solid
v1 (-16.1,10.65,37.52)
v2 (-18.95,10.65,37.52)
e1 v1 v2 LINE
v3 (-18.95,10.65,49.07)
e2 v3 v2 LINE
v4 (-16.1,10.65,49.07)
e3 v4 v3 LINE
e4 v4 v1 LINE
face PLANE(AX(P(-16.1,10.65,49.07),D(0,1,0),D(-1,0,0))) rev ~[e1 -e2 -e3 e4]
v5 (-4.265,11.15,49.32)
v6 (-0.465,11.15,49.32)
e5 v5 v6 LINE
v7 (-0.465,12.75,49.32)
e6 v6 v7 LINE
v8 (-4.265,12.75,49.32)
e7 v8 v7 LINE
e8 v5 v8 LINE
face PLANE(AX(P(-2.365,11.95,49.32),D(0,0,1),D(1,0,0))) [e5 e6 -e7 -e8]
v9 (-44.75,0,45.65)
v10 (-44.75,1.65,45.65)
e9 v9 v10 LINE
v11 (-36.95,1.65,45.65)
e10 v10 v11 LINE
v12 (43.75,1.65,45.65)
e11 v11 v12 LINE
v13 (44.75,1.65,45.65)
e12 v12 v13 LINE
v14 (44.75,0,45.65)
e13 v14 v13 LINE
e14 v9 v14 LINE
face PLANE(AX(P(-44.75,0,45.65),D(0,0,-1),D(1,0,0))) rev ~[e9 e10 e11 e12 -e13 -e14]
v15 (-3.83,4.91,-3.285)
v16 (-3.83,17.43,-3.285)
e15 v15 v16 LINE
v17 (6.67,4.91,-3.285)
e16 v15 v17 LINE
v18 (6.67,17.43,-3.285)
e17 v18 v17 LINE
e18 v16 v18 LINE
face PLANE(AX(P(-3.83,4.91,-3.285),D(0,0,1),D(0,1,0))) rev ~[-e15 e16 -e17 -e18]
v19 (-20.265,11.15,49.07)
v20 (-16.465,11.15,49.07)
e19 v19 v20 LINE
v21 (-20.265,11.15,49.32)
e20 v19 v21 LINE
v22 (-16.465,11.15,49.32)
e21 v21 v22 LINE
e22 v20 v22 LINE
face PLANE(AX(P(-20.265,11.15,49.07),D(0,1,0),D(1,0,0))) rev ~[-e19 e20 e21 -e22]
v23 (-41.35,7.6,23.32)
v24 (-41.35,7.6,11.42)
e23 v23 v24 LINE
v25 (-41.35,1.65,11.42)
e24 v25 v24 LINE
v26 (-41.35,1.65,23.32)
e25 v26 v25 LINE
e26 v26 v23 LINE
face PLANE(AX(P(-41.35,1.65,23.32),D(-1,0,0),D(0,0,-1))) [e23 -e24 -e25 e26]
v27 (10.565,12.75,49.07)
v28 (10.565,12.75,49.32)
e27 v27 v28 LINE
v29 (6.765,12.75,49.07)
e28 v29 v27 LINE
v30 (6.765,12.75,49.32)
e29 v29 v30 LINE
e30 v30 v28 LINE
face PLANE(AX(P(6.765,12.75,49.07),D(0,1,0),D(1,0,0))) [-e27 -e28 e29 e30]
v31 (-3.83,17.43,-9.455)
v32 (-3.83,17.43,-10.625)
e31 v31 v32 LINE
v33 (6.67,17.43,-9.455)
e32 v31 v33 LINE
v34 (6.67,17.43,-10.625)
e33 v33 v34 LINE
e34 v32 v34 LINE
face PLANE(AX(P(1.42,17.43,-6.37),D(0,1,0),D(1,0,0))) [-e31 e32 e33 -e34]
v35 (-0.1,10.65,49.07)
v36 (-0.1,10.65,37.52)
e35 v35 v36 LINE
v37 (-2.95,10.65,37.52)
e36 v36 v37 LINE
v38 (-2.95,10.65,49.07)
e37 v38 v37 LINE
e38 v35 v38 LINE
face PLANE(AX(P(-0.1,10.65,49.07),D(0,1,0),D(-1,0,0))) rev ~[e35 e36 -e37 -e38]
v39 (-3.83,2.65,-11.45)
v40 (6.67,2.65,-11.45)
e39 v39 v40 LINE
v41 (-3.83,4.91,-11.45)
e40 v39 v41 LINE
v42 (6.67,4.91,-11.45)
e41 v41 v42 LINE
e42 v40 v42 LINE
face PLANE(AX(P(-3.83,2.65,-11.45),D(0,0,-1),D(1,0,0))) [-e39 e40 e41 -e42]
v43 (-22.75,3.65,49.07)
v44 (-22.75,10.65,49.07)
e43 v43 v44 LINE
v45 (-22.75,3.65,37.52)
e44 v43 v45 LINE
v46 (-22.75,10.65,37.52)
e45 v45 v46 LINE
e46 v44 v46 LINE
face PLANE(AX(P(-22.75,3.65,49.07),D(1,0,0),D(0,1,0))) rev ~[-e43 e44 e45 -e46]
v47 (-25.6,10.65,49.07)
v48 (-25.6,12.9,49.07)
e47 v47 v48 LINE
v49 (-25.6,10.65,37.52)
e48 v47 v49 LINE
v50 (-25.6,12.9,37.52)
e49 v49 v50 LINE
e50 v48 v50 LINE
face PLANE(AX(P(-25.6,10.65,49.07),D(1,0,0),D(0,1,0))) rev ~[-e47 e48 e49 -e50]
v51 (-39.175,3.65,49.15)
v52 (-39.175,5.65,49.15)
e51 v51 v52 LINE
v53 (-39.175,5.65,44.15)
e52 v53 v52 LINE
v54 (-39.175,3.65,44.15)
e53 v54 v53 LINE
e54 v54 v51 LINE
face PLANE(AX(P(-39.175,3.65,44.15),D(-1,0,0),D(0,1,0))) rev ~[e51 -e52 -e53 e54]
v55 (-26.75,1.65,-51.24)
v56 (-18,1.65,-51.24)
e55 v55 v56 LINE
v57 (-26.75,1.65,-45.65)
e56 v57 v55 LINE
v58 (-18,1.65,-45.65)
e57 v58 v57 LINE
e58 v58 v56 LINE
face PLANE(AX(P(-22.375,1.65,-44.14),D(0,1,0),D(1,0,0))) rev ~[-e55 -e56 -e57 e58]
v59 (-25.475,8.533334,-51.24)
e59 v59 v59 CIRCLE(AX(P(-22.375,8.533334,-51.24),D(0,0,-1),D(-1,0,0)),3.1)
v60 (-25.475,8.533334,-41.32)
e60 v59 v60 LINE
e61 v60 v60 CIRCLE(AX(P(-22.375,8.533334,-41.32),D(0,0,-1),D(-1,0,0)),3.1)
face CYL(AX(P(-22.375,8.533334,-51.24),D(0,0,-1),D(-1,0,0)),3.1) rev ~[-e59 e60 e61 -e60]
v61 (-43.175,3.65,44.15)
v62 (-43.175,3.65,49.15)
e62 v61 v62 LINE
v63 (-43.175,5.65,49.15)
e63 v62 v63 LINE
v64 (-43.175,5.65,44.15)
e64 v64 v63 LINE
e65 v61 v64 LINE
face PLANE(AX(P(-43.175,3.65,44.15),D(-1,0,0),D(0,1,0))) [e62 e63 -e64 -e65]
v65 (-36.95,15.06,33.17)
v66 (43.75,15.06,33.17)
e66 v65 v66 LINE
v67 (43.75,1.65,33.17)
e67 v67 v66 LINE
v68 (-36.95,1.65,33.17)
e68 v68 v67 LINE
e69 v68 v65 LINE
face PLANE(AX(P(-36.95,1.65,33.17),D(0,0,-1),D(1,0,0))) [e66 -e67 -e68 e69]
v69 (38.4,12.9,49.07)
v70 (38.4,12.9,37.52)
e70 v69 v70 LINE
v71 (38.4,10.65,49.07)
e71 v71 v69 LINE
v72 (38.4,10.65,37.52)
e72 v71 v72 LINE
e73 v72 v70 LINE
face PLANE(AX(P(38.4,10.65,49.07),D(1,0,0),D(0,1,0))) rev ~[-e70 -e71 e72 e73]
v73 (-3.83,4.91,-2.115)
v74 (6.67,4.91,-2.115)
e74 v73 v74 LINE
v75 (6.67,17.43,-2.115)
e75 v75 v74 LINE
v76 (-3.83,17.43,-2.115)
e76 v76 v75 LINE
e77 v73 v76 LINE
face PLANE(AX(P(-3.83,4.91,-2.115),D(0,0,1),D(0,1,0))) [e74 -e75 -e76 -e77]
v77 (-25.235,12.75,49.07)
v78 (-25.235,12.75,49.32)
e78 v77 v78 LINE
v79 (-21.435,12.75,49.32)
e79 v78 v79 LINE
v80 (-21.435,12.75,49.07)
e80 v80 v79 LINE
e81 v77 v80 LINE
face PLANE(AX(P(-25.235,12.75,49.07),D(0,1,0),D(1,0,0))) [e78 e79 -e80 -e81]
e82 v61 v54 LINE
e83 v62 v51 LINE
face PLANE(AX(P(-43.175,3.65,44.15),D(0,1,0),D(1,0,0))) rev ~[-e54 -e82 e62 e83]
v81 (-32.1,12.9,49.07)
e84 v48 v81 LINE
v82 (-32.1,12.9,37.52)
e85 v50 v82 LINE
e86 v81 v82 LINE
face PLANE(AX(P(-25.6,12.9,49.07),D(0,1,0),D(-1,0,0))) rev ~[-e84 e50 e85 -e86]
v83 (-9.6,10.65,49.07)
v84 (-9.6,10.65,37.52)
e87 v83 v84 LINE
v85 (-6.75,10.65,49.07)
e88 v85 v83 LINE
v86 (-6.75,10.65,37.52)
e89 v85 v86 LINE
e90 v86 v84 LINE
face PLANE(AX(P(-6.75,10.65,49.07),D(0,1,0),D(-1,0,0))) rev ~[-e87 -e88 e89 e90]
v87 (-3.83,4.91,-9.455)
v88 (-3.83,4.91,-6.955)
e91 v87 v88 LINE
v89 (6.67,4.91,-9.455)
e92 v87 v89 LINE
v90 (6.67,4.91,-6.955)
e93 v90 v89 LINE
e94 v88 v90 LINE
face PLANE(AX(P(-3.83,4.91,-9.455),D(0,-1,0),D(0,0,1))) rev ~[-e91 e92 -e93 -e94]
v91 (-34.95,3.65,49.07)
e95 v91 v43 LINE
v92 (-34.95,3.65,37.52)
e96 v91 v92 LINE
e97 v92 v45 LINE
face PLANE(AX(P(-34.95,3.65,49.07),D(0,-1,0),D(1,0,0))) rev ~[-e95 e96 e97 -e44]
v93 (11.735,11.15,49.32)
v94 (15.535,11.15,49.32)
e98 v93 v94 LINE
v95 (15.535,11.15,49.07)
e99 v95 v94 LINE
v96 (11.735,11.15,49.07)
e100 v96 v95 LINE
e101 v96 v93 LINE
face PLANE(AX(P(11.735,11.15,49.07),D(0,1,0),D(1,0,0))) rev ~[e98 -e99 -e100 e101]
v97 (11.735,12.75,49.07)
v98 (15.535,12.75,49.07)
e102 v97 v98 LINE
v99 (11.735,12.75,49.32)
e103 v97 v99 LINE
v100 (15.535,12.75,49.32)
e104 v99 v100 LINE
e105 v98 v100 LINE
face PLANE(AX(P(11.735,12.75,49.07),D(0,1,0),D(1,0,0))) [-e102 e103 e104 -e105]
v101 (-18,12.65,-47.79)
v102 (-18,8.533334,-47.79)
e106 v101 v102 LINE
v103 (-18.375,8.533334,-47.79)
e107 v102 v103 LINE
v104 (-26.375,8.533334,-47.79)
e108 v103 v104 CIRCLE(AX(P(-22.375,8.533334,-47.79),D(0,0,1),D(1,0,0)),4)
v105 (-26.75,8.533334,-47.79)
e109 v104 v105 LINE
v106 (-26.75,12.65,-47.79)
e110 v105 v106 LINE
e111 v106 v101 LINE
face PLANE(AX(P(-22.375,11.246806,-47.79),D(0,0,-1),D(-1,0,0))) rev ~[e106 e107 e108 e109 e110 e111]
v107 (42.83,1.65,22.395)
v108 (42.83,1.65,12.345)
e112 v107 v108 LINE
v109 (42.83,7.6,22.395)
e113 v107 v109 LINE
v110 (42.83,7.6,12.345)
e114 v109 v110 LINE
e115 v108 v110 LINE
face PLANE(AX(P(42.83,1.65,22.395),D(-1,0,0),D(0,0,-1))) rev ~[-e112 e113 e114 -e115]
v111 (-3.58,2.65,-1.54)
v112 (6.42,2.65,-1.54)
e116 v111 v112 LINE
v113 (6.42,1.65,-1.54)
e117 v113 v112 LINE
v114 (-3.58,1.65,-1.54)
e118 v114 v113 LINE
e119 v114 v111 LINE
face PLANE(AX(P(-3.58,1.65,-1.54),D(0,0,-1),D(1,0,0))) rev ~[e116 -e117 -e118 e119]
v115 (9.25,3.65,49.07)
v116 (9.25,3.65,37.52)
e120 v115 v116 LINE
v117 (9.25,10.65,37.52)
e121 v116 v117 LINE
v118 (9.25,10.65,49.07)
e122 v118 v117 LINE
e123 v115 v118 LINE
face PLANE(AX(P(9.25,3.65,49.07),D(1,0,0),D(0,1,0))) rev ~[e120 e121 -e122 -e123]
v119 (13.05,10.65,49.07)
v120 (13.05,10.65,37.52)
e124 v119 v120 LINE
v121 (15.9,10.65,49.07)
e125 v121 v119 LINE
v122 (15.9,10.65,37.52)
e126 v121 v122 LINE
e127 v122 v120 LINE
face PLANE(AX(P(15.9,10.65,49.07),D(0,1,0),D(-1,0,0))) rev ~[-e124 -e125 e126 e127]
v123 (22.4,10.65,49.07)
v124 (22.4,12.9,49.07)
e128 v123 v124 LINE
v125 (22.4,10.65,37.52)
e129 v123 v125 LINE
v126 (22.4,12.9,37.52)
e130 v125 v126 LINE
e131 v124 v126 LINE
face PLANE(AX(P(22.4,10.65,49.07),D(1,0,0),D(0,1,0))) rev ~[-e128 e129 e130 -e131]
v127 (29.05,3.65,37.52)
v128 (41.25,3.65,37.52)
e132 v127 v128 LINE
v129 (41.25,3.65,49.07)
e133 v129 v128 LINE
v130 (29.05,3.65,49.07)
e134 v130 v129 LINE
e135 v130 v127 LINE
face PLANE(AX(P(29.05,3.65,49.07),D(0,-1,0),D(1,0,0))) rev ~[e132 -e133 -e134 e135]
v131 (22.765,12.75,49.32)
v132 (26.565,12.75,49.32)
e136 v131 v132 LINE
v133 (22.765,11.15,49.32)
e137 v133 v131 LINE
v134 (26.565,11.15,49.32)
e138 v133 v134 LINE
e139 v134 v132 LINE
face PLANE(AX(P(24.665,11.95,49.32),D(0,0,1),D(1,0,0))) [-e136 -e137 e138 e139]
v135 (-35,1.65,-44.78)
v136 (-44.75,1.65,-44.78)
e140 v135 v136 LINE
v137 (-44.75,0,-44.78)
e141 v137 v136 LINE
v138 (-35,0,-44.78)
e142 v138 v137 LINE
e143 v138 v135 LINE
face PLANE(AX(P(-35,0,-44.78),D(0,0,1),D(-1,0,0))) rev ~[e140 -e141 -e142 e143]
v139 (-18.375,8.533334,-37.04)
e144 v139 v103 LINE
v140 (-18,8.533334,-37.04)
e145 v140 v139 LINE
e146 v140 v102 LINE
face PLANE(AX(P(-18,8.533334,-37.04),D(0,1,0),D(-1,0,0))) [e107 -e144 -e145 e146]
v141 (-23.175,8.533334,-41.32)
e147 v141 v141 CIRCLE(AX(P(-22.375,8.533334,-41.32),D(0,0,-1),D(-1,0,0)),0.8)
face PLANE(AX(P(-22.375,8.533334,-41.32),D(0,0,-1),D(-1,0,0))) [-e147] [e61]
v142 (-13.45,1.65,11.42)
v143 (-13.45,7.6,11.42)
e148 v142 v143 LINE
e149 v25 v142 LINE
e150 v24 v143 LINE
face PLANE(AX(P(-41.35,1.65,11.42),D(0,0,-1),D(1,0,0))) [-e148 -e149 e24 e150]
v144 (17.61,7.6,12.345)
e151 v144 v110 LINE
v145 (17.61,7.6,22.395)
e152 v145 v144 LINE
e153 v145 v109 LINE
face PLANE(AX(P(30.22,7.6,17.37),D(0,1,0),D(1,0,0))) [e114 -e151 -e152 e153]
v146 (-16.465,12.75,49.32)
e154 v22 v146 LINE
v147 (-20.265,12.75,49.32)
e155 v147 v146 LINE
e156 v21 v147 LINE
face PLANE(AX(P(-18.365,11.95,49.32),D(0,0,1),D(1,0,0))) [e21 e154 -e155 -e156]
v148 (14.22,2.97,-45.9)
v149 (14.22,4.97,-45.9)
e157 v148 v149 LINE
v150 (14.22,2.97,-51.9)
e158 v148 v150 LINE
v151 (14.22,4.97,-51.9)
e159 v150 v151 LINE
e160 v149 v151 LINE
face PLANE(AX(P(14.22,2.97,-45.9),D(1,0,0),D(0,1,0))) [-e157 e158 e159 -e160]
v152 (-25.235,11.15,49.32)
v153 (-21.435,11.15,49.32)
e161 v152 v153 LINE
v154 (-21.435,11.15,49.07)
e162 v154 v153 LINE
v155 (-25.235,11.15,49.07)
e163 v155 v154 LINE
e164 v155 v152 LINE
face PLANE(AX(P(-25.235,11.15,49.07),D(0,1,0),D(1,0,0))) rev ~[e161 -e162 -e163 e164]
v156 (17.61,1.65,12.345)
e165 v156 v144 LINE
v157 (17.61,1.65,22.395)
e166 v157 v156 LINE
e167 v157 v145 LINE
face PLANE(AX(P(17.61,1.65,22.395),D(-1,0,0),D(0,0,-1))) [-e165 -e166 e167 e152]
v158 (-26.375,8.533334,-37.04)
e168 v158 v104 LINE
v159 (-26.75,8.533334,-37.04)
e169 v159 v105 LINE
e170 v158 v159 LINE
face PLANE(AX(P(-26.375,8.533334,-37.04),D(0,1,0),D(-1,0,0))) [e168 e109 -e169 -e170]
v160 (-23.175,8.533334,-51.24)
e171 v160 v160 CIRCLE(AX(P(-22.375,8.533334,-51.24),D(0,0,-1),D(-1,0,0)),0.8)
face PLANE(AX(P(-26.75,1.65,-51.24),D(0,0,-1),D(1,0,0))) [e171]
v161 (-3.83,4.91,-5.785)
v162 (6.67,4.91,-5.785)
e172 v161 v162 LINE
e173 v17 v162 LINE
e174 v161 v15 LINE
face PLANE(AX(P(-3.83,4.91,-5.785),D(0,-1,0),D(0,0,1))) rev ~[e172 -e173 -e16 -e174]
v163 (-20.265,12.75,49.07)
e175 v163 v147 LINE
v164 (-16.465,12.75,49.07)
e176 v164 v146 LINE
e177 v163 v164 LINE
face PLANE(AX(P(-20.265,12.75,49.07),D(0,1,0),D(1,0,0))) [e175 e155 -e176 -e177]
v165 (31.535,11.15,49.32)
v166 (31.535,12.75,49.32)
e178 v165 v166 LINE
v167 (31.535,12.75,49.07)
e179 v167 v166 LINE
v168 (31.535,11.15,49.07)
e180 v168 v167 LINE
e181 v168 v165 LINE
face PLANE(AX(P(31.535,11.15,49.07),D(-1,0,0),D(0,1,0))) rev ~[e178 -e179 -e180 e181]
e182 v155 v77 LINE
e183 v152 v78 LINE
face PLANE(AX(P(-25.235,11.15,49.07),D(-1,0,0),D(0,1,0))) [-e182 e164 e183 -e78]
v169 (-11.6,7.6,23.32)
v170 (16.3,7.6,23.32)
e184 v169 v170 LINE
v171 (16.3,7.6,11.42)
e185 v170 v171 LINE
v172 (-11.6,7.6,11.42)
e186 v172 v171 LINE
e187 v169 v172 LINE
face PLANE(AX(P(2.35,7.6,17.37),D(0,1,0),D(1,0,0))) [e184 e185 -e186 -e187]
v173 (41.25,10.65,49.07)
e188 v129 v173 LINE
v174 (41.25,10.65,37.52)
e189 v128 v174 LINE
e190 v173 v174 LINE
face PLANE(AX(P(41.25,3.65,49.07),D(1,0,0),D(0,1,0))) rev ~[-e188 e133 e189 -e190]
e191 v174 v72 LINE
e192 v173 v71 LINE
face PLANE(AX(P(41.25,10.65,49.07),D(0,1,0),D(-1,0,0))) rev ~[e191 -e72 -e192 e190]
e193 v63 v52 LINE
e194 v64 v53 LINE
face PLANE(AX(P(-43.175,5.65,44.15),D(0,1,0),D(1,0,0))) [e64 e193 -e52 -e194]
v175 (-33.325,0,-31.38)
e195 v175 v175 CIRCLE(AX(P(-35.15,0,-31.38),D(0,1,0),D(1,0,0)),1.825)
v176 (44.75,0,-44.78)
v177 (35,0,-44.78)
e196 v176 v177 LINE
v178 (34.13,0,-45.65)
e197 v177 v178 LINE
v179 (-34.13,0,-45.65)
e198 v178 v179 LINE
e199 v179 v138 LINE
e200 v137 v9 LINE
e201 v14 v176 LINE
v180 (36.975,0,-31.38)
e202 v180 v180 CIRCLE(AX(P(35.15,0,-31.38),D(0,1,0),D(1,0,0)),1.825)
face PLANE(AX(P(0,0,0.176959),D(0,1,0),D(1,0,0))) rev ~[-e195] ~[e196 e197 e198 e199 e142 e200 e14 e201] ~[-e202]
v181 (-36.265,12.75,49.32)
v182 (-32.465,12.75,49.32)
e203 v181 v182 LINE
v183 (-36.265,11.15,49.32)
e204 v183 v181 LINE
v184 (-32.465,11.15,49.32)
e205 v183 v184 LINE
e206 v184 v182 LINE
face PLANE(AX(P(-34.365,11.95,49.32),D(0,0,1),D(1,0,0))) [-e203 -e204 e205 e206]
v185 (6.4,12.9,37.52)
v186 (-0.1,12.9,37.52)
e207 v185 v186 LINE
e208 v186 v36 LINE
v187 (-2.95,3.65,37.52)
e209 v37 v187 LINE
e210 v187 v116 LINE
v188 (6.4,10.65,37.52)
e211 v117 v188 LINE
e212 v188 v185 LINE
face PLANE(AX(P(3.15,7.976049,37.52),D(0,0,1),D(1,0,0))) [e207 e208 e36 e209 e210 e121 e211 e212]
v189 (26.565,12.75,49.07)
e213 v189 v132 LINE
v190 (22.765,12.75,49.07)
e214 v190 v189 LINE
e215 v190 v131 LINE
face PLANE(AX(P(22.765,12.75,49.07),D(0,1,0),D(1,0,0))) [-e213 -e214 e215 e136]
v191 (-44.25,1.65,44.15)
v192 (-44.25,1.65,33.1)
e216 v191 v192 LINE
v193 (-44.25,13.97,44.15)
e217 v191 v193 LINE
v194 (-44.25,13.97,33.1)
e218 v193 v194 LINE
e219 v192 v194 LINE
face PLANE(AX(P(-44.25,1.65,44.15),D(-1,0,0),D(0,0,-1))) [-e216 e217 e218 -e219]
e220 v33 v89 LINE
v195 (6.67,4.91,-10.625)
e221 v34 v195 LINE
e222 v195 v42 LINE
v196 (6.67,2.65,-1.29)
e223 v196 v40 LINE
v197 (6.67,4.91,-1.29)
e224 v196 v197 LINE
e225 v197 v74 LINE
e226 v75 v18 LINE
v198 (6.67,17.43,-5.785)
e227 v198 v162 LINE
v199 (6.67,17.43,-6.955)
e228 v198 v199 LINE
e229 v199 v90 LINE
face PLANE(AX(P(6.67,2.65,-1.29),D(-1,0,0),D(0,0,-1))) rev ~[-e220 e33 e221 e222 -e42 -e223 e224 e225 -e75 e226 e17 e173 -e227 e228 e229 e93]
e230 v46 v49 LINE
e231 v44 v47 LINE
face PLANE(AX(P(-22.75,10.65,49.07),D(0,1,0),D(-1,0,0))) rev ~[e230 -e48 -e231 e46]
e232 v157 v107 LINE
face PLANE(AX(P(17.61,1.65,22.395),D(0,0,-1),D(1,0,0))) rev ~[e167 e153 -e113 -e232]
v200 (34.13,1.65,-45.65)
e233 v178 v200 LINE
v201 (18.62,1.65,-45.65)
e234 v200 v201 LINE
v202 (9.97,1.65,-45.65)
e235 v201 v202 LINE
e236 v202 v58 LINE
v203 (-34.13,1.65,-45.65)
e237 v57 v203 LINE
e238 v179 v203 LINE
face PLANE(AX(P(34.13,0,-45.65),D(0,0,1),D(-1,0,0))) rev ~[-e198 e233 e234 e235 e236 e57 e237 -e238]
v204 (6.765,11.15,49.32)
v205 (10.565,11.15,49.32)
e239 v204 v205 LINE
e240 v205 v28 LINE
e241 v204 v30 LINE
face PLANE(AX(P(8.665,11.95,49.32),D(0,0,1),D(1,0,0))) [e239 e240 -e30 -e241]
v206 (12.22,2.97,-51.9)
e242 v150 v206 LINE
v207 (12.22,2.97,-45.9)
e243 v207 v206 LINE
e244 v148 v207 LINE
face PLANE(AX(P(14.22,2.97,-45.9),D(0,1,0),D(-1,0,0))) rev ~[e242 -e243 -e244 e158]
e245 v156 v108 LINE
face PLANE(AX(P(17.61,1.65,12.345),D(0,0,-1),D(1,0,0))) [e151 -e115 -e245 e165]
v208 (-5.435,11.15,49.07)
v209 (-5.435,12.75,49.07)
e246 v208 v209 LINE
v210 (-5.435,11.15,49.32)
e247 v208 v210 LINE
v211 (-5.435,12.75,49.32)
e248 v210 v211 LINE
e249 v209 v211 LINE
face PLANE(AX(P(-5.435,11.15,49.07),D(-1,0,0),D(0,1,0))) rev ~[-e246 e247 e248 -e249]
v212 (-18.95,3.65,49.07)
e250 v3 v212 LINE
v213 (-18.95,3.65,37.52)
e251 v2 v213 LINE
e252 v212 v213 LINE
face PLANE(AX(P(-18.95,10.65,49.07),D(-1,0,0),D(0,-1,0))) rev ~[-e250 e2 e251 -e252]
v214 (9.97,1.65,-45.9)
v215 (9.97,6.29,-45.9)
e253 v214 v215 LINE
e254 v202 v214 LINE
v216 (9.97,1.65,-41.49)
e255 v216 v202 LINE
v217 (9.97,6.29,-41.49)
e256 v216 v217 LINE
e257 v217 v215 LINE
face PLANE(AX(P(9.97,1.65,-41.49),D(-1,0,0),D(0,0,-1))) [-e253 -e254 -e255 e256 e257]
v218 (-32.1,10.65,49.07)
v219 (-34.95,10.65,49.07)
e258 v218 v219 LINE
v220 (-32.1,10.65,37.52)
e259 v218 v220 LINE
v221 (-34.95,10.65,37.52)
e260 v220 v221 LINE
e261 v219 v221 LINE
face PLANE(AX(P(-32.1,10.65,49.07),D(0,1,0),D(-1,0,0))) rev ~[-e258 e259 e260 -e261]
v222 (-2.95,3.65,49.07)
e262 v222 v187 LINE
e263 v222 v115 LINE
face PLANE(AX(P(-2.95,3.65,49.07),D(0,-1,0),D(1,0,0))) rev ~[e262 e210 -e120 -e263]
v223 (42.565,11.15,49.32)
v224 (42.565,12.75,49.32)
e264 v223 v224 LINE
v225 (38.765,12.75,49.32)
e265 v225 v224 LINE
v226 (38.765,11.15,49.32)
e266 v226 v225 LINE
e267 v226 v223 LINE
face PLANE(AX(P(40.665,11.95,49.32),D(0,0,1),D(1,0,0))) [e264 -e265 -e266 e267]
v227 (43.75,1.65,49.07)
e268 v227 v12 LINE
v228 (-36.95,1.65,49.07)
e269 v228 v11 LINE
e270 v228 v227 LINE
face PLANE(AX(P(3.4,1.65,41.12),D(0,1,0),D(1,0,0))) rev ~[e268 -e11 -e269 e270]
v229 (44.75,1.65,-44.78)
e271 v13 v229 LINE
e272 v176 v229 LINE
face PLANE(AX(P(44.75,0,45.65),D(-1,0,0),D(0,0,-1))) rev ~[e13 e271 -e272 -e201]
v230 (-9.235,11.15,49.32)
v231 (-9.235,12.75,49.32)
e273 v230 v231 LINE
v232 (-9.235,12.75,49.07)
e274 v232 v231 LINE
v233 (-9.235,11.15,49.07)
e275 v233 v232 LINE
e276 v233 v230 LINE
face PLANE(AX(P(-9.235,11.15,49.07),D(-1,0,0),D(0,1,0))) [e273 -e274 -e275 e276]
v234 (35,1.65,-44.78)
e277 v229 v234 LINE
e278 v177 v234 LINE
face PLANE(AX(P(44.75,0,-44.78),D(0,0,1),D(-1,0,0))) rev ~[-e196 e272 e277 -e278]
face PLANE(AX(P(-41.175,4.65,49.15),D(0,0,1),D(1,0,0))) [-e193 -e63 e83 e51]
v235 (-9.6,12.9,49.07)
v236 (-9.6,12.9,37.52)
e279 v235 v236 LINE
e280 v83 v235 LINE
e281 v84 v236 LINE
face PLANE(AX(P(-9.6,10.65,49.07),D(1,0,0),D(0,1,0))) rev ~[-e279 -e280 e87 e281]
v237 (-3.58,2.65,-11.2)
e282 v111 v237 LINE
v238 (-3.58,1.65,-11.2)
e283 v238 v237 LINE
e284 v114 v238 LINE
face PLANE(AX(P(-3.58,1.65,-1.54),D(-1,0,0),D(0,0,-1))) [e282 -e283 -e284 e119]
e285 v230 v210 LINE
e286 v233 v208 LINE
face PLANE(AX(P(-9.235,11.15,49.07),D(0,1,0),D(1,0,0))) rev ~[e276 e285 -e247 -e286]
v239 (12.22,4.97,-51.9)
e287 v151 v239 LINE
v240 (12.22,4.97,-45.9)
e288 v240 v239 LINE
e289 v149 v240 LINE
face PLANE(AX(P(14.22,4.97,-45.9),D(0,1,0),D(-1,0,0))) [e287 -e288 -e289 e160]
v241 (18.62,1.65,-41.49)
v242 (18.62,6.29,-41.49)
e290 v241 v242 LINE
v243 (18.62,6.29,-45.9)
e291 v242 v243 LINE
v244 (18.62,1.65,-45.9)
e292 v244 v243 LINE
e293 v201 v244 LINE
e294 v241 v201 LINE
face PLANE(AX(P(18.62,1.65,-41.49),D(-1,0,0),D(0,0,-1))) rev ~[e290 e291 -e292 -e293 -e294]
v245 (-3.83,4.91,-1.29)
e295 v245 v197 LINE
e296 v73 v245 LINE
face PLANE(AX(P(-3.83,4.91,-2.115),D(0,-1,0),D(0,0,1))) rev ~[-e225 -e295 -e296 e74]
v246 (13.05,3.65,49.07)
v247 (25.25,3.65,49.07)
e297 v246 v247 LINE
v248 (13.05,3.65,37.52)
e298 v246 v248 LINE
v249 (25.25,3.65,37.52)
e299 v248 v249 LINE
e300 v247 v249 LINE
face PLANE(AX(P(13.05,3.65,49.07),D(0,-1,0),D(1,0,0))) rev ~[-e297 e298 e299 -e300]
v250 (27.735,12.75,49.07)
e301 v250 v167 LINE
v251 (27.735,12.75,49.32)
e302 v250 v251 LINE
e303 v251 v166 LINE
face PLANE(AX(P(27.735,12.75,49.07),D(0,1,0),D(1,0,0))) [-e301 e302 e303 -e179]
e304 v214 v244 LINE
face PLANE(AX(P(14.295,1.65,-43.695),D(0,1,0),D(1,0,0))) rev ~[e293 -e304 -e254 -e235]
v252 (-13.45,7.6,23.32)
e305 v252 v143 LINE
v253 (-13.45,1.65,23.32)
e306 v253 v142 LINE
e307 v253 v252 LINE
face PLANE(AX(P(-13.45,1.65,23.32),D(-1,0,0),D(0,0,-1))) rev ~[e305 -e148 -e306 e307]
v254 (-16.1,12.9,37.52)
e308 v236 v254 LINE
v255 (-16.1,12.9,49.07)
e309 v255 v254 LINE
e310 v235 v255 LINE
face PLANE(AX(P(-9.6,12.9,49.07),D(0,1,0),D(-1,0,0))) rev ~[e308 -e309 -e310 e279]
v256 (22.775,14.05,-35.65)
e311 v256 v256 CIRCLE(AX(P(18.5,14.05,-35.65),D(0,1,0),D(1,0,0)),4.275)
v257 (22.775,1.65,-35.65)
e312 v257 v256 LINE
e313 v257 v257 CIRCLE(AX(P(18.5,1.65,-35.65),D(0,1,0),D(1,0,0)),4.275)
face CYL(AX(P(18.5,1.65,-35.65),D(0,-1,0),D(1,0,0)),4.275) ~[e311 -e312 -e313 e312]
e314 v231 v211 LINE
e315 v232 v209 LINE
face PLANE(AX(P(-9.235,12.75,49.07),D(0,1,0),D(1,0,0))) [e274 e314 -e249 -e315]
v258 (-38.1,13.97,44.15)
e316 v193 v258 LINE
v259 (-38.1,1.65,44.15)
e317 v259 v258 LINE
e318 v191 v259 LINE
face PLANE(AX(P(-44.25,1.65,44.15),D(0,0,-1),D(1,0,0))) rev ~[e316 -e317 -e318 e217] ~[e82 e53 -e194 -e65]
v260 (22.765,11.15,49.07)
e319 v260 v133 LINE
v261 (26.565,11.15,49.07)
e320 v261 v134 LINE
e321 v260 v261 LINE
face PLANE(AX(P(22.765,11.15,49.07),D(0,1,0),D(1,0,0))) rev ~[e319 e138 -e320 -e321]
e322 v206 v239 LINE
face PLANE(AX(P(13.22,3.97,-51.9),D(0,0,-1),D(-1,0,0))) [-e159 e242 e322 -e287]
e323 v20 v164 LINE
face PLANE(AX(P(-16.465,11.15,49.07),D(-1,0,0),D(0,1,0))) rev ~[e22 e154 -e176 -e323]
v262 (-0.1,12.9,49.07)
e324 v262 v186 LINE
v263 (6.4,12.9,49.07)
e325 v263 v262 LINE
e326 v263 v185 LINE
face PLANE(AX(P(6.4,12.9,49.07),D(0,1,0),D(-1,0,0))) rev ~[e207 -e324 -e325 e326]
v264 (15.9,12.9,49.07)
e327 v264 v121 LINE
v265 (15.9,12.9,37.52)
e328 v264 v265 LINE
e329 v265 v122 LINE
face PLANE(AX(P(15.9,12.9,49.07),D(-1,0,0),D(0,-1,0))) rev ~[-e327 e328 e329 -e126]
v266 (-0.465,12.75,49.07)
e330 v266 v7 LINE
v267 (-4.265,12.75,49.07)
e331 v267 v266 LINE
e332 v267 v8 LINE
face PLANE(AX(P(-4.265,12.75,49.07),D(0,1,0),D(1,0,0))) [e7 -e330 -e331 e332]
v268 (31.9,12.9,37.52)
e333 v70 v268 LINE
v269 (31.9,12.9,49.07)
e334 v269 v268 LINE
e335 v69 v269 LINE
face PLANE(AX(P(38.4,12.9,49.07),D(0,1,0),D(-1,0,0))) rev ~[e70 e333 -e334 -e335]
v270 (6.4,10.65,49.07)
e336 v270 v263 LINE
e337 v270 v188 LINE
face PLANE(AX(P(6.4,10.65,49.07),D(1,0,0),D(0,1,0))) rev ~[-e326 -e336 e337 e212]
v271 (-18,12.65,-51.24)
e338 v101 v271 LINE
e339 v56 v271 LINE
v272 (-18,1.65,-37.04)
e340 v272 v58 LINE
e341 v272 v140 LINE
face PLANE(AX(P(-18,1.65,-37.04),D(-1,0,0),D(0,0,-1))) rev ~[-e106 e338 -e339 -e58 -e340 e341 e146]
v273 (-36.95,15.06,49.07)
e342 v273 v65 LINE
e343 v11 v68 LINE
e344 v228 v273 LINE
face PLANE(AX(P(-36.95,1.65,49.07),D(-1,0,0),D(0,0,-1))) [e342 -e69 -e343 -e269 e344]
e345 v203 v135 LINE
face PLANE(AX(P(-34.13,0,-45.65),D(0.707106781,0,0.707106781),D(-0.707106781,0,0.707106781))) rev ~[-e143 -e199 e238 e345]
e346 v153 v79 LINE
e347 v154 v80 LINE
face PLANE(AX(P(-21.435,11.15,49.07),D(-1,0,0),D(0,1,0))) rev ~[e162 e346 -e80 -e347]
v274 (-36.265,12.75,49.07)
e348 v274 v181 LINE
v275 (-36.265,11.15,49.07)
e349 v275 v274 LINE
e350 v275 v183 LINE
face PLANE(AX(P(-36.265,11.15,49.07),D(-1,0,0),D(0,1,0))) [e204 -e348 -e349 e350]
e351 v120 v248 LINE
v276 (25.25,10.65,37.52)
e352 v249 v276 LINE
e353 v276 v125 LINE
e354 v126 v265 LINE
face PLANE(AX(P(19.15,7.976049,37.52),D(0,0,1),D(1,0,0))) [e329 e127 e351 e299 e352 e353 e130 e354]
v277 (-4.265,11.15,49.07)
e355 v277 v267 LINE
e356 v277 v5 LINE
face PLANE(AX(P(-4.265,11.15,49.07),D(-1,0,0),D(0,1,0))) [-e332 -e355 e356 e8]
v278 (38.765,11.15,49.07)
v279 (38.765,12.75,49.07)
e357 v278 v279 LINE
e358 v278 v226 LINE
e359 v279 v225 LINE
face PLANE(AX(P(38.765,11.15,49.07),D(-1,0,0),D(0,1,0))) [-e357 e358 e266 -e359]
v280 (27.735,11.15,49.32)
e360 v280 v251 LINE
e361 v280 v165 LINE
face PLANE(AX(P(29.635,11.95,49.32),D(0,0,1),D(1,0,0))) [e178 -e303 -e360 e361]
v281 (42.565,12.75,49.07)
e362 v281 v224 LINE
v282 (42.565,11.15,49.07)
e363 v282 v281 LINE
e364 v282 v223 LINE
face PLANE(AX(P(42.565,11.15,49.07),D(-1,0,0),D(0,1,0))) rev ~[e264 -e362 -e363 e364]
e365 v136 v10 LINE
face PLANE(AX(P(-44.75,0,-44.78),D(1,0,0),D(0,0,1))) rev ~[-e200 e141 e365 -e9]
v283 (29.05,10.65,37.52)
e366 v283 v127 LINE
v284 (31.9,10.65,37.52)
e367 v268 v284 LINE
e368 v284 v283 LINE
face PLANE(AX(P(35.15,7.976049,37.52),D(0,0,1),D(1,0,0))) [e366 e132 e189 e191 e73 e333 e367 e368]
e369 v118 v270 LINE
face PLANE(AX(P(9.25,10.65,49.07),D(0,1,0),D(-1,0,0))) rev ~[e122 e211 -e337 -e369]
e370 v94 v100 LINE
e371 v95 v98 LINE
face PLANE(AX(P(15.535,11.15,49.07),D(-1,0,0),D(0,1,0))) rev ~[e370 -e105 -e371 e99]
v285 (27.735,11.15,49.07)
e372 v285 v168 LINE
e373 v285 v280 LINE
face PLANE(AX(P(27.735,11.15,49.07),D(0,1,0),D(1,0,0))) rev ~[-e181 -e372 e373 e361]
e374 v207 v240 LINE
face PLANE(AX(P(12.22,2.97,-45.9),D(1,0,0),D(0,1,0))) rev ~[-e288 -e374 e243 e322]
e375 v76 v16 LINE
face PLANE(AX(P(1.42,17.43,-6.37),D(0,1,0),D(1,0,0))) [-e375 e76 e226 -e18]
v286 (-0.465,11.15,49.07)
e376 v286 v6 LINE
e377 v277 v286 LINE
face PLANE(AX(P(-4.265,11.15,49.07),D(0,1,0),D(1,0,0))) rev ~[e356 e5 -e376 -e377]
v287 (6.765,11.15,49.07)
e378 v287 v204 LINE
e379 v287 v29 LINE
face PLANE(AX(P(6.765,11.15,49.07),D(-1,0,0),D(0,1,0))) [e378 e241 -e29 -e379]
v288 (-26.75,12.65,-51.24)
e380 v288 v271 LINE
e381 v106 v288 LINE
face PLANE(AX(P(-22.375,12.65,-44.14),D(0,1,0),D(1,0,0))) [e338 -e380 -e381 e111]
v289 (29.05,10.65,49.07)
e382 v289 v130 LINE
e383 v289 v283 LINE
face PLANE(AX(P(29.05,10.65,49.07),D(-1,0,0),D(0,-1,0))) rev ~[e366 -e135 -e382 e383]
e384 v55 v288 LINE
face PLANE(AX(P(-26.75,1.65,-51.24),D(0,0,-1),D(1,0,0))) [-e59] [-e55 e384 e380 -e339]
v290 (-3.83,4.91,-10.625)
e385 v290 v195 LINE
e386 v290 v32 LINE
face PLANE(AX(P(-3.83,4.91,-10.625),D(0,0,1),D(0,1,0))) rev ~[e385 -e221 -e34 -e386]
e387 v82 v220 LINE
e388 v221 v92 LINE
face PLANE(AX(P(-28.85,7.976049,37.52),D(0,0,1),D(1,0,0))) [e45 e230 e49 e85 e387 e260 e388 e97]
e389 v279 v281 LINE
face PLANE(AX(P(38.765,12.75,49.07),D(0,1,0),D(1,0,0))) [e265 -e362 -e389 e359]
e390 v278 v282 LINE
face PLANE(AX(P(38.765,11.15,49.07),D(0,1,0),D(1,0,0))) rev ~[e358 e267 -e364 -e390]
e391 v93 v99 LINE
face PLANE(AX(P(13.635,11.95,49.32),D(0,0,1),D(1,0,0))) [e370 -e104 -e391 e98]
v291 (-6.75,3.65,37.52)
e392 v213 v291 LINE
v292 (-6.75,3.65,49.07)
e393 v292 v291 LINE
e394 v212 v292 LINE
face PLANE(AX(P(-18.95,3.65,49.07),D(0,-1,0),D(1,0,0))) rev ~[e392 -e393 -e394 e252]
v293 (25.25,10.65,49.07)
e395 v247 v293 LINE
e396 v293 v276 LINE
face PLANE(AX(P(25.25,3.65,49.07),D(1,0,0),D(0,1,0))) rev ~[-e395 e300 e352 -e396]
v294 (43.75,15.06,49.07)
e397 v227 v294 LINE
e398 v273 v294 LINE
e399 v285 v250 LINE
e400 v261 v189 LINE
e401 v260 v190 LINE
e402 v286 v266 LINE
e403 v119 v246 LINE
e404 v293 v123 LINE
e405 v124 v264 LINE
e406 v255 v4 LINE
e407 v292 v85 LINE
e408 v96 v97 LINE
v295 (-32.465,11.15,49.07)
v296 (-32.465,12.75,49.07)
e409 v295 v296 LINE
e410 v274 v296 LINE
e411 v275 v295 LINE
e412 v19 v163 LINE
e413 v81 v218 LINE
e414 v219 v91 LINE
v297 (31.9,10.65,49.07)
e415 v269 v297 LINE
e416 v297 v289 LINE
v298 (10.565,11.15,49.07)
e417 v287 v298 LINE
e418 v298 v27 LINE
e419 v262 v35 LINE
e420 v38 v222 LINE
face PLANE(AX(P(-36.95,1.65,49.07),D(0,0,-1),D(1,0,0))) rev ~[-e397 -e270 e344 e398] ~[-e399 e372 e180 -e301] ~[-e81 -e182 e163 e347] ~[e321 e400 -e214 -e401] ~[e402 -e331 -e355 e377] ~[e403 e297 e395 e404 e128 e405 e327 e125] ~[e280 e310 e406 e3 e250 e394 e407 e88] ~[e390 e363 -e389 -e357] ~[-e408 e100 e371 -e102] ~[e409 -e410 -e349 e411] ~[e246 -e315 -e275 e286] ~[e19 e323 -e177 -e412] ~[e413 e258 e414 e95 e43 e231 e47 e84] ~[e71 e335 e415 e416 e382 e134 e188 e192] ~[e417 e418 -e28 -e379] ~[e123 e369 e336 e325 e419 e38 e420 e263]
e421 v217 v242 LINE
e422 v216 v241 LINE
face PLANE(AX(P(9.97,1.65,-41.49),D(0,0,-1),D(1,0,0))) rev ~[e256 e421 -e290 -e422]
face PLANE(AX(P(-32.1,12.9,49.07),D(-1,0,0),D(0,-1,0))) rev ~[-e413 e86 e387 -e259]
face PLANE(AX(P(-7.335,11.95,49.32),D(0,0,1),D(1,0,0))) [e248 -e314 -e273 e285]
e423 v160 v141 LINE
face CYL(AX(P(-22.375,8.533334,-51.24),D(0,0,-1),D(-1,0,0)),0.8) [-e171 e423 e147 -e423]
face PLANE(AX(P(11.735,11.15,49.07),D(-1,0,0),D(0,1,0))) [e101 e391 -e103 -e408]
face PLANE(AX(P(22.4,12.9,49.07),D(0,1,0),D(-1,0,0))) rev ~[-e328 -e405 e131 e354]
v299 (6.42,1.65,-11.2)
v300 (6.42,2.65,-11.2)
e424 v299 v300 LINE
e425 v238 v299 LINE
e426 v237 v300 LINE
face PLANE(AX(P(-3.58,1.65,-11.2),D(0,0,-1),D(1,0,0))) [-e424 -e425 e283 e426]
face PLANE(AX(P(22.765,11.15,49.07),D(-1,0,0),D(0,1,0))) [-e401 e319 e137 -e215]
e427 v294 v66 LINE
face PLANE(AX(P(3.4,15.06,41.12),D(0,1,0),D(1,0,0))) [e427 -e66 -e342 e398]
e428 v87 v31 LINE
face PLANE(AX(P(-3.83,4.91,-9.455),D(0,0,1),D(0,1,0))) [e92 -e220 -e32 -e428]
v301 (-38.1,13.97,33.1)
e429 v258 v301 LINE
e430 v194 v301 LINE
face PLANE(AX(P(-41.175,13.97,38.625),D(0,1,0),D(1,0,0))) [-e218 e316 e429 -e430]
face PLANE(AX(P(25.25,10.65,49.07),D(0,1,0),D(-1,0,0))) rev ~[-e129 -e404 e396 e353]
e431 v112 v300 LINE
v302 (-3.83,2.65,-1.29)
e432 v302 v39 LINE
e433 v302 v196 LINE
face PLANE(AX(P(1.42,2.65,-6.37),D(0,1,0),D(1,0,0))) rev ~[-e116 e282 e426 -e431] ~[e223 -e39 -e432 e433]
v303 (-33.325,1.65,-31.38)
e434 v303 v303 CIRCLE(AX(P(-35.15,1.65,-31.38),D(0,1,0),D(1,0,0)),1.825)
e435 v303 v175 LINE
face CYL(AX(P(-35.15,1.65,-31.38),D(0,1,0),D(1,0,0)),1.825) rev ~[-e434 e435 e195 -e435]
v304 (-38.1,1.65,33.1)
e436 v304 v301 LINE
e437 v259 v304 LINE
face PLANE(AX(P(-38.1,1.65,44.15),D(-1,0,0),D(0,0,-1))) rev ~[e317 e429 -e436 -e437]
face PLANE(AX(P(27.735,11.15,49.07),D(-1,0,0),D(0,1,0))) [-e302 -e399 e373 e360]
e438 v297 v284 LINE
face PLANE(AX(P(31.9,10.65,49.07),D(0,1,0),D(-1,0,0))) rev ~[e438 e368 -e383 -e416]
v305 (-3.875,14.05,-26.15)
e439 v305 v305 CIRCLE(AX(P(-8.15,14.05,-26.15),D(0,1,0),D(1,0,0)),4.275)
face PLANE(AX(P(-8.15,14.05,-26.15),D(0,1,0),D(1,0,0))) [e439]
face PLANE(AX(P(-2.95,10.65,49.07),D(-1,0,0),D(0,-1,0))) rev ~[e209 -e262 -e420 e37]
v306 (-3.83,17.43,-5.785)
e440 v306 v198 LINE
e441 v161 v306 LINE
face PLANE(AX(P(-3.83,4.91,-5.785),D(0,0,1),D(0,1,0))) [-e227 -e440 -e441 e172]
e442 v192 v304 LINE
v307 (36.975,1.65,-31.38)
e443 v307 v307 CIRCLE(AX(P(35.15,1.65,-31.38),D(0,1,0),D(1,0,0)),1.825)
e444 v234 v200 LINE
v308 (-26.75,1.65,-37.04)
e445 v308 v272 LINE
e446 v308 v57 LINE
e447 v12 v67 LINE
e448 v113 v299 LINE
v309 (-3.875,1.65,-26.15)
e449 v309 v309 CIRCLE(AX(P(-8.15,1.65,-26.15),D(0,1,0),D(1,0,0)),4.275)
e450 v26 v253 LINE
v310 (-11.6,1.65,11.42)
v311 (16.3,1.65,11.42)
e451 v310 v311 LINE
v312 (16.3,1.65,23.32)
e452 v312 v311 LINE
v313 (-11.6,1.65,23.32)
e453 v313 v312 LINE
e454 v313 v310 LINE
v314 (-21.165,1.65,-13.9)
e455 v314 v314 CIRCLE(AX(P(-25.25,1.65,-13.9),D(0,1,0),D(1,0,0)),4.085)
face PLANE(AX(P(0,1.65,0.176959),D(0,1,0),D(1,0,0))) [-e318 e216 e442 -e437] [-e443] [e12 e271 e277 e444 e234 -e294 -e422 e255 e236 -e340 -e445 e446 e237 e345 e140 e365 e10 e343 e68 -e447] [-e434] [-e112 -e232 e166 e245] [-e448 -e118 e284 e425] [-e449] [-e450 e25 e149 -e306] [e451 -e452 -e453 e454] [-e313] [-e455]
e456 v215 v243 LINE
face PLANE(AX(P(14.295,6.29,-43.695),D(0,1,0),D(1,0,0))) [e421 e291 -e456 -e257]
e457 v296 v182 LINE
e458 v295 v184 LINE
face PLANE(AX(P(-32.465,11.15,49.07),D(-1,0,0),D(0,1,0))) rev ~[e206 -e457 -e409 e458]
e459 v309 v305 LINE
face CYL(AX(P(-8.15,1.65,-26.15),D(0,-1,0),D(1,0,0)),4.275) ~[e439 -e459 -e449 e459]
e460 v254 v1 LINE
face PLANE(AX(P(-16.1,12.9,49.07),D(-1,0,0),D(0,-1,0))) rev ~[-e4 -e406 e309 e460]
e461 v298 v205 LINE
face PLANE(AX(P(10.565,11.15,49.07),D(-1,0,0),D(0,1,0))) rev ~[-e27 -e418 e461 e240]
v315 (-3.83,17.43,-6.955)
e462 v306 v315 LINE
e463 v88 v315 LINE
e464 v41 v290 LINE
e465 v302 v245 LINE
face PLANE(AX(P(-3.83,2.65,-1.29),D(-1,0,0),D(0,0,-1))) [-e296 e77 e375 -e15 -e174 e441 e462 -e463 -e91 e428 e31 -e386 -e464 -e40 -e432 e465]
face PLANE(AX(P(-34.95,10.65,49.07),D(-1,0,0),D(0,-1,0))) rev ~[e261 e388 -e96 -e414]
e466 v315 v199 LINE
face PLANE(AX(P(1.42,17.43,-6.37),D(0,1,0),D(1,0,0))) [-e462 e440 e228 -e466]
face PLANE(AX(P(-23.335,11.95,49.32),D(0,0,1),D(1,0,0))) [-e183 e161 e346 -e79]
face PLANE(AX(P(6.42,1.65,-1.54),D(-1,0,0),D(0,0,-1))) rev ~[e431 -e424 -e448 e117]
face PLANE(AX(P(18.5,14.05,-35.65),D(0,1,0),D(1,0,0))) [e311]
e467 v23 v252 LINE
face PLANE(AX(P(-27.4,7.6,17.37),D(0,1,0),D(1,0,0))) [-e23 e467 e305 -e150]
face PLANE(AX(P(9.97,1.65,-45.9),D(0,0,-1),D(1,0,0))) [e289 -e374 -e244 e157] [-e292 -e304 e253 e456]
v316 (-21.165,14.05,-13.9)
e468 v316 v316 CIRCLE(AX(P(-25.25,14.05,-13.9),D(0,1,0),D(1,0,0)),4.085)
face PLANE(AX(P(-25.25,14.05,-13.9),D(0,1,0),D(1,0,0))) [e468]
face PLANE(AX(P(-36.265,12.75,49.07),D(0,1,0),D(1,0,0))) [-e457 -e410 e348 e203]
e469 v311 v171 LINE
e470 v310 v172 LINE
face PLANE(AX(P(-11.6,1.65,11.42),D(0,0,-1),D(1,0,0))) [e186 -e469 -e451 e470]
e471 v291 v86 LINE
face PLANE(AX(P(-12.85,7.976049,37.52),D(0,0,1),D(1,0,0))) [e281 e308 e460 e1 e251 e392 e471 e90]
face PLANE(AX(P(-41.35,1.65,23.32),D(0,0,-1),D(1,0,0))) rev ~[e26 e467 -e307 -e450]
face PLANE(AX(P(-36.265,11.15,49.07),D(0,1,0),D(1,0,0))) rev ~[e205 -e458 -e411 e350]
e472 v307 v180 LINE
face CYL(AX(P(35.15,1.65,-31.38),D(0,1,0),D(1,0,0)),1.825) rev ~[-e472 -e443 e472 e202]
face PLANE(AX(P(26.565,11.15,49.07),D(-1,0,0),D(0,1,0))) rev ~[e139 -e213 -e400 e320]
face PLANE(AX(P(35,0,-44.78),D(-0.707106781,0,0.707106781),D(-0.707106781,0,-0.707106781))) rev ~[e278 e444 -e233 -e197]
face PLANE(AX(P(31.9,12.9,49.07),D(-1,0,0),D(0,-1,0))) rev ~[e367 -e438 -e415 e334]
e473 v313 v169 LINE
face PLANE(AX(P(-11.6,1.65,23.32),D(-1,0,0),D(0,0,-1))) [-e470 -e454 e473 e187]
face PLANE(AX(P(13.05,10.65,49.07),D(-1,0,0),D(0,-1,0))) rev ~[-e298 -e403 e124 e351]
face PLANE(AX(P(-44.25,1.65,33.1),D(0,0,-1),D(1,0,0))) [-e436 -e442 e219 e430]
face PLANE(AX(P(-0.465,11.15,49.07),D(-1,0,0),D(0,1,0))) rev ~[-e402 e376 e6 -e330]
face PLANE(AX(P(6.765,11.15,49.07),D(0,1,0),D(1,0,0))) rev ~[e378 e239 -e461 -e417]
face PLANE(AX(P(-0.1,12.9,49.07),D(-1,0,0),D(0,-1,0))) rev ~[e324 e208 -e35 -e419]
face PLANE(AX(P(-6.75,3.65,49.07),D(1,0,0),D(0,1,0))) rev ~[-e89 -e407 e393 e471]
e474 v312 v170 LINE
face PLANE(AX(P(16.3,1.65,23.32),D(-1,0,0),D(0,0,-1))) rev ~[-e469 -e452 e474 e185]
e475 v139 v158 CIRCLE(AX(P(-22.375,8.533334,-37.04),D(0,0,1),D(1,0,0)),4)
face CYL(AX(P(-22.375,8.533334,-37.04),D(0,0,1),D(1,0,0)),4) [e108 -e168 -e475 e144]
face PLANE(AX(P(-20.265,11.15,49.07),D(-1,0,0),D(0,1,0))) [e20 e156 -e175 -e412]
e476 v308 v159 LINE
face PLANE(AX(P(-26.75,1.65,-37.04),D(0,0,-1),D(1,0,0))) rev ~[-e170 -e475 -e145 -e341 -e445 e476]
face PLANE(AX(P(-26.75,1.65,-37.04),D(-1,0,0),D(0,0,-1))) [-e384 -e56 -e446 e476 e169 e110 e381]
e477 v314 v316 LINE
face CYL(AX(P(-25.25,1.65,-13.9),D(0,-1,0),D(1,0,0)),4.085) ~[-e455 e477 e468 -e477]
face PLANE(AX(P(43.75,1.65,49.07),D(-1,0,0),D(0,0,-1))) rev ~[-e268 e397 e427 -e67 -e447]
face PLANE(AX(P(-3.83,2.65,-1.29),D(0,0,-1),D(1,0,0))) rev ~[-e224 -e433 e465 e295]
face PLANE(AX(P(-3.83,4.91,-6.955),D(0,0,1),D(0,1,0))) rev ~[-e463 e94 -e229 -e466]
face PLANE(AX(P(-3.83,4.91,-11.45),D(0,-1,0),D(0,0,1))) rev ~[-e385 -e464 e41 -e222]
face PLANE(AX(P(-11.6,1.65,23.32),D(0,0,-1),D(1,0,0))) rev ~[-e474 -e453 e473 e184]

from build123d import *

# Parameters (mm, degrees)
BOSS_EXTRUDE1_DEPTH  = 1.65
SKETCH3_W            = 80.7
SKETCH3_H            = 15.9
BOSS_EXTRUDE2_DEPTH  = 13.41
SKETCH4_R            = 1.825
CUT_EXTRUDE1_DEPTH   = 2.65
SKETCH5_W            = 6.15
SKETCH5_H            = 11.05
BOSS_EXTRUDE3_DEPTH  = 12.32
SKETCH6_W            = 4
SKETCH6_H            = 2
BOSS_EXTRUDE4_DEPTH  = 5
CUT_EXTRUDE2_DEPTH   = 11.55
SKETCH8_W            = 27.9
SKETCH8_H            = 11.9
SKETCH8_W_2          = 25.22
SKETCH8_H_2          = 10.05
BOSS_EXTRUDE5_DEPTH  = 5.95
SKETCH9_W            = 10
SKETCH9_H            = 9.66
BOSS_EXTRUDE6_DEPTH  = 1
SKETCH10_W           = 10.5
SKETCH10_H           = 10.16
BOSS_EXTRUDE7_DEPTH  = 14.78
CUT_EXTRUDE3_REACH   = 50.58
SKETCH11_W           = 2.5
SKETCH11_H           = 12.52
SKETCH11_W_2         = 0.825
SKETCH12_R           = 4.275
SKETCH12_R_2         = 4.085
BOSS_EXTRUDE8_DEPTH  = 12.4
SKETCH14_W           = 8.75
SKETCH14_H           = 14.2
BOSS_EXTRUDE9_DEPTH  = 11
SKETCH15_R           = 3.1
SKETCH15_R_2         = 0.8
CUT_EXTRUDE4_DEPTH   = 9.92
CUT_EXTRUDE5_DEPTH   = 10.75
SKETCH18_W           = 8.65
SKETCH18_H           = 4.41
BOSS_EXTRUDE10_DEPTH = 4.64
SKETCH19_W           = 2
SKETCH19_H           = 2
BOSS_EXTRUDE11_DEPTH = 6
SKETCH20_W           = 3.8
SKETCH20_H           = 1.6
BOSS_EXTRUDE12_DEPTH = 0.25


with BuildPart() as part:
    # Sketch1 → Boss-Extrude1 (new body)
    with BuildSketch(Plane(origin=(0, 0, 0), x_dir=(1, 0, 0), z_dir=(0, 1, 0))):
        Polygon((44.75, 44.78), (35, 44.78), (34.13, 45.65), (-34.13, 45.65), (-35, 44.78), (-44.75, 44.78), (-44.75, -45.65), (44.75, -45.65), align=None)
    extrude(amount=BOSS_EXTRUDE1_DEPTH)

    # Sketch3 → Boss-Extrude2 (add)
    with BuildSketch(Plane(origin=(0, 1.65, 0), x_dir=(1, 0, 0), z_dir=(0, 1, 0))):
        with Locations((3.4, -41.12)):
            Rectangle(SKETCH3_W, SKETCH3_H)
    extrude(amount=BOSS_EXTRUDE2_DEPTH)

    # Sketch4 → Cut-Extrude1 (cut, through all)
    with BuildSketch(Plane(origin=(0, 1.65, 0), x_dir=(1, 0, 0), z_dir=(0, 1, 0))):
        with Locations((35.15, 31.38)):
            Circle(SKETCH4_R)
        with Locations((-35.15, 31.38)):
            Circle(SKETCH4_R)
    extrude(amount=-CUT_EXTRUDE1_DEPTH, mode=Mode.SUBTRACT)

    # Sketch5 → Boss-Extrude3 (add)
    with BuildSketch(Plane(origin=(0, 1.65, 0), x_dir=(1, 0, 0), z_dir=(0, 1, 0))):
        with Locations((-41.175, -38.625)):
            Rectangle(SKETCH5_W, SKETCH5_H)
    extrude(amount=BOSS_EXTRUDE3_DEPTH)

    # Sketch6 → Boss-Extrude4 (add)
    with BuildSketch(Plane.XY.offset(44.15)):
        with Locations((-41.175, 4.65)):
            Rectangle(SKETCH6_W, SKETCH6_H)
    extrude(amount=BOSS_EXTRUDE4_DEPTH)

    # Sketch7 → Cut-Extrude2 (cut)
    with BuildSketch(Plane.XY.offset(49.07)):
        Polygon((-34.95, 10.65), (-34.95, 3.65), (-22.75, 3.65), (-22.75, 10.65), (-25.6, 10.65), (-25.6, 12.9), (-32.1, 12.9), (-32.1, 10.65), align=None)
        Polygon((-18.95, 10.65), (-18.95, 3.65), (-6.75, 3.65), (-6.75, 10.65), (-9.6, 10.65), (-9.6, 12.9), (-16.1, 12.9), (-16.1, 10.65), align=None)
        Polygon((-2.95, 10.65), (-2.95, 3.65), (9.25, 3.65), (9.25, 10.65), (6.4, 10.65), (6.4, 12.9), (-0.1, 12.9), (-0.1, 10.65), align=None)
        Polygon((13.05, 10.65), (13.05, 3.65), (25.25, 3.65), (25.25, 10.65), (22.4, 10.65), (22.4, 12.9), (15.9, 12.9), (15.9, 10.65), align=None)
        Polygon((29.05, 10.65), (29.05, 3.65), (41.25, 3.65), (41.25, 10.65), (38.4, 10.65), (38.4, 12.9), (31.9, 12.9), (31.9, 10.65), align=None)
    extrude(amount=-CUT_EXTRUDE2_DEPTH, mode=Mode.SUBTRACT)

    # Sketch8 → Boss-Extrude5 (add)
    with BuildSketch(Plane(origin=(0, 1.65, 0), x_dir=(1, 0, 0), z_dir=(0, 1, 0))):
        with Locations((-27.4, -17.37)):
            Rectangle(SKETCH8_W, SKETCH8_H)
        with Locations((2.35, -17.37)):
            Rectangle(SKETCH8_W, SKETCH8_H)
        with Locations((30.22, -17.37)):
            Rectangle(SKETCH8_W_2, SKETCH8_H_2)
    extrude(amount=BOSS_EXTRUDE5_DEPTH)

    # Sketch9 → Boss-Extrude6 (add)
    with BuildSketch(Plane(origin=(0, 1.65, 0), x_dir=(1, 0, 0), z_dir=(0, 1, 0))):
        with Locations((1.42, 6.37)):
            Rectangle(SKETCH9_W, SKETCH9_H)
    extrude(amount=BOSS_EXTRUDE6_DEPTH)

    # Sketch10 → Boss-Extrude7 (add)
    with BuildSketch(Plane(origin=(0, 2.65, 0), x_dir=(1, 0, 0), z_dir=(0, 1, 0))):
        with Locations((1.42, 6.37)):
            Rectangle(SKETCH10_W, SKETCH10_H)
    extrude(amount=BOSS_EXTRUDE7_DEPTH)

    # Sketch11 → Cut-Extrude3 (cut, up to next)
    with BuildSketch(Plane.ZY.offset(3.83), mode=Mode.PRIVATE) as cut_extrude3_sk1:
        with Locations((-8.205, 11.17)):
            Rectangle(SKETCH11_W, SKETCH11_H)
    cut_extrude3_tool1 = extrude(cut_extrude3_sk1.sketch, amount=-CUT_EXTRUDE3_REACH, mode=Mode.PRIVATE) & part.part
    add(cut_extrude3_tool1.solids().sort_by_distance((-3.83, 11.17, -8.205))[0], mode=Mode.SUBTRACT)
    # Sketch11 → Cut-Extrude3 (cut, up to next)
    with BuildSketch(Plane.ZY.offset(3.83), mode=Mode.PRIVATE) as cut_extrude3_sk2:
        with Locations((-4.535, 11.17)):
            Rectangle(SKETCH11_W, SKETCH11_H)
    cut_extrude3_tool2 = extrude(cut_extrude3_sk2.sketch, amount=-CUT_EXTRUDE3_REACH, mode=Mode.PRIVATE) & part.part
    add(cut_extrude3_tool2.solids().sort_by_distance((-3.83, 11.17, -4.535))[0], mode=Mode.SUBTRACT)
    # Sketch11 → Cut-Extrude3 (cut, up to next)
    with BuildSketch(Plane.ZY.offset(3.83), mode=Mode.PRIVATE) as cut_extrude3_sk3:
        with Locations((-11.0375, 11.17)):
            Rectangle(SKETCH11_W_2, SKETCH11_H)
    cut_extrude3_tool3 = extrude(cut_extrude3_sk3.sketch, amount=-CUT_EXTRUDE3_REACH, mode=Mode.PRIVATE) & part.part
    add(cut_extrude3_tool3.solids().sort_by_distance((-3.83, 11.17, -11.0375))[0], mode=Mode.SUBTRACT)
    # Sketch11 → Cut-Extrude3 (cut, up to next)
    with BuildSketch(Plane.ZY.offset(3.83), mode=Mode.PRIVATE) as cut_extrude3_sk4:
        with Locations((-1.7025, 11.17)):
            Rectangle(SKETCH11_W_2, SKETCH11_H)
    cut_extrude3_tool4 = extrude(cut_extrude3_sk4.sketch, amount=-CUT_EXTRUDE3_REACH, mode=Mode.PRIVATE) & part.part
    add(cut_extrude3_tool4.solids().sort_by_distance((-3.83, 11.17, -1.7025))[0], mode=Mode.SUBTRACT)

    # Sketch12 → Boss-Extrude8 (add)
    with BuildSketch(Plane(origin=(0, 1.65, 0), x_dir=(1, 0, 0), z_dir=(0, 1, 0))):
        with Locations((18.5, 35.65)):
            Circle(SKETCH12_R)
        with Locations((-8.15, 26.15)):
            Circle(SKETCH12_R)
        with Locations((-25.25, 13.9)):
            Circle(SKETCH12_R_2)
    extrude(amount=BOSS_EXTRUDE8_DEPTH)

    # Sketch14 → Boss-Extrude9 (add)
    with BuildSketch(Plane(origin=(0, 1.65, 0), x_dir=(1, 0, 0), z_dir=(0, 1, 0))):
        with Locations((-22.375, 44.14)):
            Rectangle(SKETCH14_W, SKETCH14_H)
    extrude(amount=BOSS_EXTRUDE9_DEPTH)

    # Sketch15 → Cut-Extrude4 (cut)
    with BuildSketch(Plane(origin=(0, 0, -51.24), x_dir=(-1, 0, 0), z_dir=(0, 0, -1))):
        with Locations((22.375, 8.533333602)):
            Circle(SKETCH15_R)
        with Locations((22.375, 8.533333602)):
            Circle(SKETCH15_R_2, mode=Mode.SUBTRACT)
    extrude(amount=-CUT_EXTRUDE4_DEPTH, mode=Mode.SUBTRACT)

    # Sketch17 → Cut-Extrude5 (cut)
    with BuildSketch(Plane.XY.offset(-37.04)):
        with BuildLine():
            Line((-26.375, 8.533333602), (-26.75, 8.533333602))
            Line((-26.75, 8.533333602), (-26.75, 12.65))
            Line((-26.75, 12.65), (-18, 12.65))
            Line((-18, 12.65), (-18, 8.533333602))
            Line((-18, 8.533333602), (-18.375, 8.533333602))
            ThreePointArc((-18.375, 8.533333602), (-22.375, 12.533333602), (-26.375, 8.533333602))
        make_face()
    extrude(amount=-CUT_EXTRUDE5_DEPTH, mode=Mode.SUBTRACT)

    # Sketch18 → Boss-Extrude10 (add)
    with BuildSketch(Plane(origin=(0, 1.65, 0), x_dir=(1, 0, 0), z_dir=(0, 1, 0))):
        with Locations((14.295, 43.695)):
            Rectangle(SKETCH18_W, SKETCH18_H)
    extrude(amount=BOSS_EXTRUDE10_DEPTH)

    # Sketch19 → Boss-Extrude11 (add)
    with BuildSketch(Plane(origin=(0, 0, -45.9), x_dir=(-1, 0, 0), z_dir=(0, 0, -1))):
        with Locations((-13.22, 3.97)):
            Rectangle(SKETCH19_W, SKETCH19_H)
    extrude(amount=BOSS_EXTRUDE11_DEPTH)

    # Sketch20 → Boss-Extrude12 (add)
    with BuildSketch(Plane.XY.offset(49.07)):
        with Locations((-34.365, 11.95)):
            Rectangle(SKETCH20_W, SKETCH20_H)
        with Locations((-23.335, 11.95)):
            Rectangle(SKETCH20_W, SKETCH20_H)
        with Locations((-7.335, 11.95)):
            Rectangle(SKETCH20_W, SKETCH20_H)
        with Locations((-18.365, 11.95)):
            Rectangle(SKETCH20_W, SKETCH20_H)
        with Locations((8.665, 11.95)):
            Rectangle(SKETCH20_W, SKETCH20_H)
        with Locations((-2.365, 11.95)):
            Rectangle(SKETCH20_W, SKETCH20_H)
        with Locations((24.665, 11.95)):
            Rectangle(SKETCH20_W, SKETCH20_H)
        with Locations((13.635, 11.95)):
            Rectangle(SKETCH20_W, SKETCH20_H)
        with Locations((40.665, 11.95)):
            Rectangle(SKETCH20_W, SKETCH20_H)
        with Locations((29.635, 11.95)):
            Rectangle(SKETCH20_W, SKETCH20_H)
    extrude(amount=BOSS_EXTRUDE12_DEPTH)


solid = part.part
